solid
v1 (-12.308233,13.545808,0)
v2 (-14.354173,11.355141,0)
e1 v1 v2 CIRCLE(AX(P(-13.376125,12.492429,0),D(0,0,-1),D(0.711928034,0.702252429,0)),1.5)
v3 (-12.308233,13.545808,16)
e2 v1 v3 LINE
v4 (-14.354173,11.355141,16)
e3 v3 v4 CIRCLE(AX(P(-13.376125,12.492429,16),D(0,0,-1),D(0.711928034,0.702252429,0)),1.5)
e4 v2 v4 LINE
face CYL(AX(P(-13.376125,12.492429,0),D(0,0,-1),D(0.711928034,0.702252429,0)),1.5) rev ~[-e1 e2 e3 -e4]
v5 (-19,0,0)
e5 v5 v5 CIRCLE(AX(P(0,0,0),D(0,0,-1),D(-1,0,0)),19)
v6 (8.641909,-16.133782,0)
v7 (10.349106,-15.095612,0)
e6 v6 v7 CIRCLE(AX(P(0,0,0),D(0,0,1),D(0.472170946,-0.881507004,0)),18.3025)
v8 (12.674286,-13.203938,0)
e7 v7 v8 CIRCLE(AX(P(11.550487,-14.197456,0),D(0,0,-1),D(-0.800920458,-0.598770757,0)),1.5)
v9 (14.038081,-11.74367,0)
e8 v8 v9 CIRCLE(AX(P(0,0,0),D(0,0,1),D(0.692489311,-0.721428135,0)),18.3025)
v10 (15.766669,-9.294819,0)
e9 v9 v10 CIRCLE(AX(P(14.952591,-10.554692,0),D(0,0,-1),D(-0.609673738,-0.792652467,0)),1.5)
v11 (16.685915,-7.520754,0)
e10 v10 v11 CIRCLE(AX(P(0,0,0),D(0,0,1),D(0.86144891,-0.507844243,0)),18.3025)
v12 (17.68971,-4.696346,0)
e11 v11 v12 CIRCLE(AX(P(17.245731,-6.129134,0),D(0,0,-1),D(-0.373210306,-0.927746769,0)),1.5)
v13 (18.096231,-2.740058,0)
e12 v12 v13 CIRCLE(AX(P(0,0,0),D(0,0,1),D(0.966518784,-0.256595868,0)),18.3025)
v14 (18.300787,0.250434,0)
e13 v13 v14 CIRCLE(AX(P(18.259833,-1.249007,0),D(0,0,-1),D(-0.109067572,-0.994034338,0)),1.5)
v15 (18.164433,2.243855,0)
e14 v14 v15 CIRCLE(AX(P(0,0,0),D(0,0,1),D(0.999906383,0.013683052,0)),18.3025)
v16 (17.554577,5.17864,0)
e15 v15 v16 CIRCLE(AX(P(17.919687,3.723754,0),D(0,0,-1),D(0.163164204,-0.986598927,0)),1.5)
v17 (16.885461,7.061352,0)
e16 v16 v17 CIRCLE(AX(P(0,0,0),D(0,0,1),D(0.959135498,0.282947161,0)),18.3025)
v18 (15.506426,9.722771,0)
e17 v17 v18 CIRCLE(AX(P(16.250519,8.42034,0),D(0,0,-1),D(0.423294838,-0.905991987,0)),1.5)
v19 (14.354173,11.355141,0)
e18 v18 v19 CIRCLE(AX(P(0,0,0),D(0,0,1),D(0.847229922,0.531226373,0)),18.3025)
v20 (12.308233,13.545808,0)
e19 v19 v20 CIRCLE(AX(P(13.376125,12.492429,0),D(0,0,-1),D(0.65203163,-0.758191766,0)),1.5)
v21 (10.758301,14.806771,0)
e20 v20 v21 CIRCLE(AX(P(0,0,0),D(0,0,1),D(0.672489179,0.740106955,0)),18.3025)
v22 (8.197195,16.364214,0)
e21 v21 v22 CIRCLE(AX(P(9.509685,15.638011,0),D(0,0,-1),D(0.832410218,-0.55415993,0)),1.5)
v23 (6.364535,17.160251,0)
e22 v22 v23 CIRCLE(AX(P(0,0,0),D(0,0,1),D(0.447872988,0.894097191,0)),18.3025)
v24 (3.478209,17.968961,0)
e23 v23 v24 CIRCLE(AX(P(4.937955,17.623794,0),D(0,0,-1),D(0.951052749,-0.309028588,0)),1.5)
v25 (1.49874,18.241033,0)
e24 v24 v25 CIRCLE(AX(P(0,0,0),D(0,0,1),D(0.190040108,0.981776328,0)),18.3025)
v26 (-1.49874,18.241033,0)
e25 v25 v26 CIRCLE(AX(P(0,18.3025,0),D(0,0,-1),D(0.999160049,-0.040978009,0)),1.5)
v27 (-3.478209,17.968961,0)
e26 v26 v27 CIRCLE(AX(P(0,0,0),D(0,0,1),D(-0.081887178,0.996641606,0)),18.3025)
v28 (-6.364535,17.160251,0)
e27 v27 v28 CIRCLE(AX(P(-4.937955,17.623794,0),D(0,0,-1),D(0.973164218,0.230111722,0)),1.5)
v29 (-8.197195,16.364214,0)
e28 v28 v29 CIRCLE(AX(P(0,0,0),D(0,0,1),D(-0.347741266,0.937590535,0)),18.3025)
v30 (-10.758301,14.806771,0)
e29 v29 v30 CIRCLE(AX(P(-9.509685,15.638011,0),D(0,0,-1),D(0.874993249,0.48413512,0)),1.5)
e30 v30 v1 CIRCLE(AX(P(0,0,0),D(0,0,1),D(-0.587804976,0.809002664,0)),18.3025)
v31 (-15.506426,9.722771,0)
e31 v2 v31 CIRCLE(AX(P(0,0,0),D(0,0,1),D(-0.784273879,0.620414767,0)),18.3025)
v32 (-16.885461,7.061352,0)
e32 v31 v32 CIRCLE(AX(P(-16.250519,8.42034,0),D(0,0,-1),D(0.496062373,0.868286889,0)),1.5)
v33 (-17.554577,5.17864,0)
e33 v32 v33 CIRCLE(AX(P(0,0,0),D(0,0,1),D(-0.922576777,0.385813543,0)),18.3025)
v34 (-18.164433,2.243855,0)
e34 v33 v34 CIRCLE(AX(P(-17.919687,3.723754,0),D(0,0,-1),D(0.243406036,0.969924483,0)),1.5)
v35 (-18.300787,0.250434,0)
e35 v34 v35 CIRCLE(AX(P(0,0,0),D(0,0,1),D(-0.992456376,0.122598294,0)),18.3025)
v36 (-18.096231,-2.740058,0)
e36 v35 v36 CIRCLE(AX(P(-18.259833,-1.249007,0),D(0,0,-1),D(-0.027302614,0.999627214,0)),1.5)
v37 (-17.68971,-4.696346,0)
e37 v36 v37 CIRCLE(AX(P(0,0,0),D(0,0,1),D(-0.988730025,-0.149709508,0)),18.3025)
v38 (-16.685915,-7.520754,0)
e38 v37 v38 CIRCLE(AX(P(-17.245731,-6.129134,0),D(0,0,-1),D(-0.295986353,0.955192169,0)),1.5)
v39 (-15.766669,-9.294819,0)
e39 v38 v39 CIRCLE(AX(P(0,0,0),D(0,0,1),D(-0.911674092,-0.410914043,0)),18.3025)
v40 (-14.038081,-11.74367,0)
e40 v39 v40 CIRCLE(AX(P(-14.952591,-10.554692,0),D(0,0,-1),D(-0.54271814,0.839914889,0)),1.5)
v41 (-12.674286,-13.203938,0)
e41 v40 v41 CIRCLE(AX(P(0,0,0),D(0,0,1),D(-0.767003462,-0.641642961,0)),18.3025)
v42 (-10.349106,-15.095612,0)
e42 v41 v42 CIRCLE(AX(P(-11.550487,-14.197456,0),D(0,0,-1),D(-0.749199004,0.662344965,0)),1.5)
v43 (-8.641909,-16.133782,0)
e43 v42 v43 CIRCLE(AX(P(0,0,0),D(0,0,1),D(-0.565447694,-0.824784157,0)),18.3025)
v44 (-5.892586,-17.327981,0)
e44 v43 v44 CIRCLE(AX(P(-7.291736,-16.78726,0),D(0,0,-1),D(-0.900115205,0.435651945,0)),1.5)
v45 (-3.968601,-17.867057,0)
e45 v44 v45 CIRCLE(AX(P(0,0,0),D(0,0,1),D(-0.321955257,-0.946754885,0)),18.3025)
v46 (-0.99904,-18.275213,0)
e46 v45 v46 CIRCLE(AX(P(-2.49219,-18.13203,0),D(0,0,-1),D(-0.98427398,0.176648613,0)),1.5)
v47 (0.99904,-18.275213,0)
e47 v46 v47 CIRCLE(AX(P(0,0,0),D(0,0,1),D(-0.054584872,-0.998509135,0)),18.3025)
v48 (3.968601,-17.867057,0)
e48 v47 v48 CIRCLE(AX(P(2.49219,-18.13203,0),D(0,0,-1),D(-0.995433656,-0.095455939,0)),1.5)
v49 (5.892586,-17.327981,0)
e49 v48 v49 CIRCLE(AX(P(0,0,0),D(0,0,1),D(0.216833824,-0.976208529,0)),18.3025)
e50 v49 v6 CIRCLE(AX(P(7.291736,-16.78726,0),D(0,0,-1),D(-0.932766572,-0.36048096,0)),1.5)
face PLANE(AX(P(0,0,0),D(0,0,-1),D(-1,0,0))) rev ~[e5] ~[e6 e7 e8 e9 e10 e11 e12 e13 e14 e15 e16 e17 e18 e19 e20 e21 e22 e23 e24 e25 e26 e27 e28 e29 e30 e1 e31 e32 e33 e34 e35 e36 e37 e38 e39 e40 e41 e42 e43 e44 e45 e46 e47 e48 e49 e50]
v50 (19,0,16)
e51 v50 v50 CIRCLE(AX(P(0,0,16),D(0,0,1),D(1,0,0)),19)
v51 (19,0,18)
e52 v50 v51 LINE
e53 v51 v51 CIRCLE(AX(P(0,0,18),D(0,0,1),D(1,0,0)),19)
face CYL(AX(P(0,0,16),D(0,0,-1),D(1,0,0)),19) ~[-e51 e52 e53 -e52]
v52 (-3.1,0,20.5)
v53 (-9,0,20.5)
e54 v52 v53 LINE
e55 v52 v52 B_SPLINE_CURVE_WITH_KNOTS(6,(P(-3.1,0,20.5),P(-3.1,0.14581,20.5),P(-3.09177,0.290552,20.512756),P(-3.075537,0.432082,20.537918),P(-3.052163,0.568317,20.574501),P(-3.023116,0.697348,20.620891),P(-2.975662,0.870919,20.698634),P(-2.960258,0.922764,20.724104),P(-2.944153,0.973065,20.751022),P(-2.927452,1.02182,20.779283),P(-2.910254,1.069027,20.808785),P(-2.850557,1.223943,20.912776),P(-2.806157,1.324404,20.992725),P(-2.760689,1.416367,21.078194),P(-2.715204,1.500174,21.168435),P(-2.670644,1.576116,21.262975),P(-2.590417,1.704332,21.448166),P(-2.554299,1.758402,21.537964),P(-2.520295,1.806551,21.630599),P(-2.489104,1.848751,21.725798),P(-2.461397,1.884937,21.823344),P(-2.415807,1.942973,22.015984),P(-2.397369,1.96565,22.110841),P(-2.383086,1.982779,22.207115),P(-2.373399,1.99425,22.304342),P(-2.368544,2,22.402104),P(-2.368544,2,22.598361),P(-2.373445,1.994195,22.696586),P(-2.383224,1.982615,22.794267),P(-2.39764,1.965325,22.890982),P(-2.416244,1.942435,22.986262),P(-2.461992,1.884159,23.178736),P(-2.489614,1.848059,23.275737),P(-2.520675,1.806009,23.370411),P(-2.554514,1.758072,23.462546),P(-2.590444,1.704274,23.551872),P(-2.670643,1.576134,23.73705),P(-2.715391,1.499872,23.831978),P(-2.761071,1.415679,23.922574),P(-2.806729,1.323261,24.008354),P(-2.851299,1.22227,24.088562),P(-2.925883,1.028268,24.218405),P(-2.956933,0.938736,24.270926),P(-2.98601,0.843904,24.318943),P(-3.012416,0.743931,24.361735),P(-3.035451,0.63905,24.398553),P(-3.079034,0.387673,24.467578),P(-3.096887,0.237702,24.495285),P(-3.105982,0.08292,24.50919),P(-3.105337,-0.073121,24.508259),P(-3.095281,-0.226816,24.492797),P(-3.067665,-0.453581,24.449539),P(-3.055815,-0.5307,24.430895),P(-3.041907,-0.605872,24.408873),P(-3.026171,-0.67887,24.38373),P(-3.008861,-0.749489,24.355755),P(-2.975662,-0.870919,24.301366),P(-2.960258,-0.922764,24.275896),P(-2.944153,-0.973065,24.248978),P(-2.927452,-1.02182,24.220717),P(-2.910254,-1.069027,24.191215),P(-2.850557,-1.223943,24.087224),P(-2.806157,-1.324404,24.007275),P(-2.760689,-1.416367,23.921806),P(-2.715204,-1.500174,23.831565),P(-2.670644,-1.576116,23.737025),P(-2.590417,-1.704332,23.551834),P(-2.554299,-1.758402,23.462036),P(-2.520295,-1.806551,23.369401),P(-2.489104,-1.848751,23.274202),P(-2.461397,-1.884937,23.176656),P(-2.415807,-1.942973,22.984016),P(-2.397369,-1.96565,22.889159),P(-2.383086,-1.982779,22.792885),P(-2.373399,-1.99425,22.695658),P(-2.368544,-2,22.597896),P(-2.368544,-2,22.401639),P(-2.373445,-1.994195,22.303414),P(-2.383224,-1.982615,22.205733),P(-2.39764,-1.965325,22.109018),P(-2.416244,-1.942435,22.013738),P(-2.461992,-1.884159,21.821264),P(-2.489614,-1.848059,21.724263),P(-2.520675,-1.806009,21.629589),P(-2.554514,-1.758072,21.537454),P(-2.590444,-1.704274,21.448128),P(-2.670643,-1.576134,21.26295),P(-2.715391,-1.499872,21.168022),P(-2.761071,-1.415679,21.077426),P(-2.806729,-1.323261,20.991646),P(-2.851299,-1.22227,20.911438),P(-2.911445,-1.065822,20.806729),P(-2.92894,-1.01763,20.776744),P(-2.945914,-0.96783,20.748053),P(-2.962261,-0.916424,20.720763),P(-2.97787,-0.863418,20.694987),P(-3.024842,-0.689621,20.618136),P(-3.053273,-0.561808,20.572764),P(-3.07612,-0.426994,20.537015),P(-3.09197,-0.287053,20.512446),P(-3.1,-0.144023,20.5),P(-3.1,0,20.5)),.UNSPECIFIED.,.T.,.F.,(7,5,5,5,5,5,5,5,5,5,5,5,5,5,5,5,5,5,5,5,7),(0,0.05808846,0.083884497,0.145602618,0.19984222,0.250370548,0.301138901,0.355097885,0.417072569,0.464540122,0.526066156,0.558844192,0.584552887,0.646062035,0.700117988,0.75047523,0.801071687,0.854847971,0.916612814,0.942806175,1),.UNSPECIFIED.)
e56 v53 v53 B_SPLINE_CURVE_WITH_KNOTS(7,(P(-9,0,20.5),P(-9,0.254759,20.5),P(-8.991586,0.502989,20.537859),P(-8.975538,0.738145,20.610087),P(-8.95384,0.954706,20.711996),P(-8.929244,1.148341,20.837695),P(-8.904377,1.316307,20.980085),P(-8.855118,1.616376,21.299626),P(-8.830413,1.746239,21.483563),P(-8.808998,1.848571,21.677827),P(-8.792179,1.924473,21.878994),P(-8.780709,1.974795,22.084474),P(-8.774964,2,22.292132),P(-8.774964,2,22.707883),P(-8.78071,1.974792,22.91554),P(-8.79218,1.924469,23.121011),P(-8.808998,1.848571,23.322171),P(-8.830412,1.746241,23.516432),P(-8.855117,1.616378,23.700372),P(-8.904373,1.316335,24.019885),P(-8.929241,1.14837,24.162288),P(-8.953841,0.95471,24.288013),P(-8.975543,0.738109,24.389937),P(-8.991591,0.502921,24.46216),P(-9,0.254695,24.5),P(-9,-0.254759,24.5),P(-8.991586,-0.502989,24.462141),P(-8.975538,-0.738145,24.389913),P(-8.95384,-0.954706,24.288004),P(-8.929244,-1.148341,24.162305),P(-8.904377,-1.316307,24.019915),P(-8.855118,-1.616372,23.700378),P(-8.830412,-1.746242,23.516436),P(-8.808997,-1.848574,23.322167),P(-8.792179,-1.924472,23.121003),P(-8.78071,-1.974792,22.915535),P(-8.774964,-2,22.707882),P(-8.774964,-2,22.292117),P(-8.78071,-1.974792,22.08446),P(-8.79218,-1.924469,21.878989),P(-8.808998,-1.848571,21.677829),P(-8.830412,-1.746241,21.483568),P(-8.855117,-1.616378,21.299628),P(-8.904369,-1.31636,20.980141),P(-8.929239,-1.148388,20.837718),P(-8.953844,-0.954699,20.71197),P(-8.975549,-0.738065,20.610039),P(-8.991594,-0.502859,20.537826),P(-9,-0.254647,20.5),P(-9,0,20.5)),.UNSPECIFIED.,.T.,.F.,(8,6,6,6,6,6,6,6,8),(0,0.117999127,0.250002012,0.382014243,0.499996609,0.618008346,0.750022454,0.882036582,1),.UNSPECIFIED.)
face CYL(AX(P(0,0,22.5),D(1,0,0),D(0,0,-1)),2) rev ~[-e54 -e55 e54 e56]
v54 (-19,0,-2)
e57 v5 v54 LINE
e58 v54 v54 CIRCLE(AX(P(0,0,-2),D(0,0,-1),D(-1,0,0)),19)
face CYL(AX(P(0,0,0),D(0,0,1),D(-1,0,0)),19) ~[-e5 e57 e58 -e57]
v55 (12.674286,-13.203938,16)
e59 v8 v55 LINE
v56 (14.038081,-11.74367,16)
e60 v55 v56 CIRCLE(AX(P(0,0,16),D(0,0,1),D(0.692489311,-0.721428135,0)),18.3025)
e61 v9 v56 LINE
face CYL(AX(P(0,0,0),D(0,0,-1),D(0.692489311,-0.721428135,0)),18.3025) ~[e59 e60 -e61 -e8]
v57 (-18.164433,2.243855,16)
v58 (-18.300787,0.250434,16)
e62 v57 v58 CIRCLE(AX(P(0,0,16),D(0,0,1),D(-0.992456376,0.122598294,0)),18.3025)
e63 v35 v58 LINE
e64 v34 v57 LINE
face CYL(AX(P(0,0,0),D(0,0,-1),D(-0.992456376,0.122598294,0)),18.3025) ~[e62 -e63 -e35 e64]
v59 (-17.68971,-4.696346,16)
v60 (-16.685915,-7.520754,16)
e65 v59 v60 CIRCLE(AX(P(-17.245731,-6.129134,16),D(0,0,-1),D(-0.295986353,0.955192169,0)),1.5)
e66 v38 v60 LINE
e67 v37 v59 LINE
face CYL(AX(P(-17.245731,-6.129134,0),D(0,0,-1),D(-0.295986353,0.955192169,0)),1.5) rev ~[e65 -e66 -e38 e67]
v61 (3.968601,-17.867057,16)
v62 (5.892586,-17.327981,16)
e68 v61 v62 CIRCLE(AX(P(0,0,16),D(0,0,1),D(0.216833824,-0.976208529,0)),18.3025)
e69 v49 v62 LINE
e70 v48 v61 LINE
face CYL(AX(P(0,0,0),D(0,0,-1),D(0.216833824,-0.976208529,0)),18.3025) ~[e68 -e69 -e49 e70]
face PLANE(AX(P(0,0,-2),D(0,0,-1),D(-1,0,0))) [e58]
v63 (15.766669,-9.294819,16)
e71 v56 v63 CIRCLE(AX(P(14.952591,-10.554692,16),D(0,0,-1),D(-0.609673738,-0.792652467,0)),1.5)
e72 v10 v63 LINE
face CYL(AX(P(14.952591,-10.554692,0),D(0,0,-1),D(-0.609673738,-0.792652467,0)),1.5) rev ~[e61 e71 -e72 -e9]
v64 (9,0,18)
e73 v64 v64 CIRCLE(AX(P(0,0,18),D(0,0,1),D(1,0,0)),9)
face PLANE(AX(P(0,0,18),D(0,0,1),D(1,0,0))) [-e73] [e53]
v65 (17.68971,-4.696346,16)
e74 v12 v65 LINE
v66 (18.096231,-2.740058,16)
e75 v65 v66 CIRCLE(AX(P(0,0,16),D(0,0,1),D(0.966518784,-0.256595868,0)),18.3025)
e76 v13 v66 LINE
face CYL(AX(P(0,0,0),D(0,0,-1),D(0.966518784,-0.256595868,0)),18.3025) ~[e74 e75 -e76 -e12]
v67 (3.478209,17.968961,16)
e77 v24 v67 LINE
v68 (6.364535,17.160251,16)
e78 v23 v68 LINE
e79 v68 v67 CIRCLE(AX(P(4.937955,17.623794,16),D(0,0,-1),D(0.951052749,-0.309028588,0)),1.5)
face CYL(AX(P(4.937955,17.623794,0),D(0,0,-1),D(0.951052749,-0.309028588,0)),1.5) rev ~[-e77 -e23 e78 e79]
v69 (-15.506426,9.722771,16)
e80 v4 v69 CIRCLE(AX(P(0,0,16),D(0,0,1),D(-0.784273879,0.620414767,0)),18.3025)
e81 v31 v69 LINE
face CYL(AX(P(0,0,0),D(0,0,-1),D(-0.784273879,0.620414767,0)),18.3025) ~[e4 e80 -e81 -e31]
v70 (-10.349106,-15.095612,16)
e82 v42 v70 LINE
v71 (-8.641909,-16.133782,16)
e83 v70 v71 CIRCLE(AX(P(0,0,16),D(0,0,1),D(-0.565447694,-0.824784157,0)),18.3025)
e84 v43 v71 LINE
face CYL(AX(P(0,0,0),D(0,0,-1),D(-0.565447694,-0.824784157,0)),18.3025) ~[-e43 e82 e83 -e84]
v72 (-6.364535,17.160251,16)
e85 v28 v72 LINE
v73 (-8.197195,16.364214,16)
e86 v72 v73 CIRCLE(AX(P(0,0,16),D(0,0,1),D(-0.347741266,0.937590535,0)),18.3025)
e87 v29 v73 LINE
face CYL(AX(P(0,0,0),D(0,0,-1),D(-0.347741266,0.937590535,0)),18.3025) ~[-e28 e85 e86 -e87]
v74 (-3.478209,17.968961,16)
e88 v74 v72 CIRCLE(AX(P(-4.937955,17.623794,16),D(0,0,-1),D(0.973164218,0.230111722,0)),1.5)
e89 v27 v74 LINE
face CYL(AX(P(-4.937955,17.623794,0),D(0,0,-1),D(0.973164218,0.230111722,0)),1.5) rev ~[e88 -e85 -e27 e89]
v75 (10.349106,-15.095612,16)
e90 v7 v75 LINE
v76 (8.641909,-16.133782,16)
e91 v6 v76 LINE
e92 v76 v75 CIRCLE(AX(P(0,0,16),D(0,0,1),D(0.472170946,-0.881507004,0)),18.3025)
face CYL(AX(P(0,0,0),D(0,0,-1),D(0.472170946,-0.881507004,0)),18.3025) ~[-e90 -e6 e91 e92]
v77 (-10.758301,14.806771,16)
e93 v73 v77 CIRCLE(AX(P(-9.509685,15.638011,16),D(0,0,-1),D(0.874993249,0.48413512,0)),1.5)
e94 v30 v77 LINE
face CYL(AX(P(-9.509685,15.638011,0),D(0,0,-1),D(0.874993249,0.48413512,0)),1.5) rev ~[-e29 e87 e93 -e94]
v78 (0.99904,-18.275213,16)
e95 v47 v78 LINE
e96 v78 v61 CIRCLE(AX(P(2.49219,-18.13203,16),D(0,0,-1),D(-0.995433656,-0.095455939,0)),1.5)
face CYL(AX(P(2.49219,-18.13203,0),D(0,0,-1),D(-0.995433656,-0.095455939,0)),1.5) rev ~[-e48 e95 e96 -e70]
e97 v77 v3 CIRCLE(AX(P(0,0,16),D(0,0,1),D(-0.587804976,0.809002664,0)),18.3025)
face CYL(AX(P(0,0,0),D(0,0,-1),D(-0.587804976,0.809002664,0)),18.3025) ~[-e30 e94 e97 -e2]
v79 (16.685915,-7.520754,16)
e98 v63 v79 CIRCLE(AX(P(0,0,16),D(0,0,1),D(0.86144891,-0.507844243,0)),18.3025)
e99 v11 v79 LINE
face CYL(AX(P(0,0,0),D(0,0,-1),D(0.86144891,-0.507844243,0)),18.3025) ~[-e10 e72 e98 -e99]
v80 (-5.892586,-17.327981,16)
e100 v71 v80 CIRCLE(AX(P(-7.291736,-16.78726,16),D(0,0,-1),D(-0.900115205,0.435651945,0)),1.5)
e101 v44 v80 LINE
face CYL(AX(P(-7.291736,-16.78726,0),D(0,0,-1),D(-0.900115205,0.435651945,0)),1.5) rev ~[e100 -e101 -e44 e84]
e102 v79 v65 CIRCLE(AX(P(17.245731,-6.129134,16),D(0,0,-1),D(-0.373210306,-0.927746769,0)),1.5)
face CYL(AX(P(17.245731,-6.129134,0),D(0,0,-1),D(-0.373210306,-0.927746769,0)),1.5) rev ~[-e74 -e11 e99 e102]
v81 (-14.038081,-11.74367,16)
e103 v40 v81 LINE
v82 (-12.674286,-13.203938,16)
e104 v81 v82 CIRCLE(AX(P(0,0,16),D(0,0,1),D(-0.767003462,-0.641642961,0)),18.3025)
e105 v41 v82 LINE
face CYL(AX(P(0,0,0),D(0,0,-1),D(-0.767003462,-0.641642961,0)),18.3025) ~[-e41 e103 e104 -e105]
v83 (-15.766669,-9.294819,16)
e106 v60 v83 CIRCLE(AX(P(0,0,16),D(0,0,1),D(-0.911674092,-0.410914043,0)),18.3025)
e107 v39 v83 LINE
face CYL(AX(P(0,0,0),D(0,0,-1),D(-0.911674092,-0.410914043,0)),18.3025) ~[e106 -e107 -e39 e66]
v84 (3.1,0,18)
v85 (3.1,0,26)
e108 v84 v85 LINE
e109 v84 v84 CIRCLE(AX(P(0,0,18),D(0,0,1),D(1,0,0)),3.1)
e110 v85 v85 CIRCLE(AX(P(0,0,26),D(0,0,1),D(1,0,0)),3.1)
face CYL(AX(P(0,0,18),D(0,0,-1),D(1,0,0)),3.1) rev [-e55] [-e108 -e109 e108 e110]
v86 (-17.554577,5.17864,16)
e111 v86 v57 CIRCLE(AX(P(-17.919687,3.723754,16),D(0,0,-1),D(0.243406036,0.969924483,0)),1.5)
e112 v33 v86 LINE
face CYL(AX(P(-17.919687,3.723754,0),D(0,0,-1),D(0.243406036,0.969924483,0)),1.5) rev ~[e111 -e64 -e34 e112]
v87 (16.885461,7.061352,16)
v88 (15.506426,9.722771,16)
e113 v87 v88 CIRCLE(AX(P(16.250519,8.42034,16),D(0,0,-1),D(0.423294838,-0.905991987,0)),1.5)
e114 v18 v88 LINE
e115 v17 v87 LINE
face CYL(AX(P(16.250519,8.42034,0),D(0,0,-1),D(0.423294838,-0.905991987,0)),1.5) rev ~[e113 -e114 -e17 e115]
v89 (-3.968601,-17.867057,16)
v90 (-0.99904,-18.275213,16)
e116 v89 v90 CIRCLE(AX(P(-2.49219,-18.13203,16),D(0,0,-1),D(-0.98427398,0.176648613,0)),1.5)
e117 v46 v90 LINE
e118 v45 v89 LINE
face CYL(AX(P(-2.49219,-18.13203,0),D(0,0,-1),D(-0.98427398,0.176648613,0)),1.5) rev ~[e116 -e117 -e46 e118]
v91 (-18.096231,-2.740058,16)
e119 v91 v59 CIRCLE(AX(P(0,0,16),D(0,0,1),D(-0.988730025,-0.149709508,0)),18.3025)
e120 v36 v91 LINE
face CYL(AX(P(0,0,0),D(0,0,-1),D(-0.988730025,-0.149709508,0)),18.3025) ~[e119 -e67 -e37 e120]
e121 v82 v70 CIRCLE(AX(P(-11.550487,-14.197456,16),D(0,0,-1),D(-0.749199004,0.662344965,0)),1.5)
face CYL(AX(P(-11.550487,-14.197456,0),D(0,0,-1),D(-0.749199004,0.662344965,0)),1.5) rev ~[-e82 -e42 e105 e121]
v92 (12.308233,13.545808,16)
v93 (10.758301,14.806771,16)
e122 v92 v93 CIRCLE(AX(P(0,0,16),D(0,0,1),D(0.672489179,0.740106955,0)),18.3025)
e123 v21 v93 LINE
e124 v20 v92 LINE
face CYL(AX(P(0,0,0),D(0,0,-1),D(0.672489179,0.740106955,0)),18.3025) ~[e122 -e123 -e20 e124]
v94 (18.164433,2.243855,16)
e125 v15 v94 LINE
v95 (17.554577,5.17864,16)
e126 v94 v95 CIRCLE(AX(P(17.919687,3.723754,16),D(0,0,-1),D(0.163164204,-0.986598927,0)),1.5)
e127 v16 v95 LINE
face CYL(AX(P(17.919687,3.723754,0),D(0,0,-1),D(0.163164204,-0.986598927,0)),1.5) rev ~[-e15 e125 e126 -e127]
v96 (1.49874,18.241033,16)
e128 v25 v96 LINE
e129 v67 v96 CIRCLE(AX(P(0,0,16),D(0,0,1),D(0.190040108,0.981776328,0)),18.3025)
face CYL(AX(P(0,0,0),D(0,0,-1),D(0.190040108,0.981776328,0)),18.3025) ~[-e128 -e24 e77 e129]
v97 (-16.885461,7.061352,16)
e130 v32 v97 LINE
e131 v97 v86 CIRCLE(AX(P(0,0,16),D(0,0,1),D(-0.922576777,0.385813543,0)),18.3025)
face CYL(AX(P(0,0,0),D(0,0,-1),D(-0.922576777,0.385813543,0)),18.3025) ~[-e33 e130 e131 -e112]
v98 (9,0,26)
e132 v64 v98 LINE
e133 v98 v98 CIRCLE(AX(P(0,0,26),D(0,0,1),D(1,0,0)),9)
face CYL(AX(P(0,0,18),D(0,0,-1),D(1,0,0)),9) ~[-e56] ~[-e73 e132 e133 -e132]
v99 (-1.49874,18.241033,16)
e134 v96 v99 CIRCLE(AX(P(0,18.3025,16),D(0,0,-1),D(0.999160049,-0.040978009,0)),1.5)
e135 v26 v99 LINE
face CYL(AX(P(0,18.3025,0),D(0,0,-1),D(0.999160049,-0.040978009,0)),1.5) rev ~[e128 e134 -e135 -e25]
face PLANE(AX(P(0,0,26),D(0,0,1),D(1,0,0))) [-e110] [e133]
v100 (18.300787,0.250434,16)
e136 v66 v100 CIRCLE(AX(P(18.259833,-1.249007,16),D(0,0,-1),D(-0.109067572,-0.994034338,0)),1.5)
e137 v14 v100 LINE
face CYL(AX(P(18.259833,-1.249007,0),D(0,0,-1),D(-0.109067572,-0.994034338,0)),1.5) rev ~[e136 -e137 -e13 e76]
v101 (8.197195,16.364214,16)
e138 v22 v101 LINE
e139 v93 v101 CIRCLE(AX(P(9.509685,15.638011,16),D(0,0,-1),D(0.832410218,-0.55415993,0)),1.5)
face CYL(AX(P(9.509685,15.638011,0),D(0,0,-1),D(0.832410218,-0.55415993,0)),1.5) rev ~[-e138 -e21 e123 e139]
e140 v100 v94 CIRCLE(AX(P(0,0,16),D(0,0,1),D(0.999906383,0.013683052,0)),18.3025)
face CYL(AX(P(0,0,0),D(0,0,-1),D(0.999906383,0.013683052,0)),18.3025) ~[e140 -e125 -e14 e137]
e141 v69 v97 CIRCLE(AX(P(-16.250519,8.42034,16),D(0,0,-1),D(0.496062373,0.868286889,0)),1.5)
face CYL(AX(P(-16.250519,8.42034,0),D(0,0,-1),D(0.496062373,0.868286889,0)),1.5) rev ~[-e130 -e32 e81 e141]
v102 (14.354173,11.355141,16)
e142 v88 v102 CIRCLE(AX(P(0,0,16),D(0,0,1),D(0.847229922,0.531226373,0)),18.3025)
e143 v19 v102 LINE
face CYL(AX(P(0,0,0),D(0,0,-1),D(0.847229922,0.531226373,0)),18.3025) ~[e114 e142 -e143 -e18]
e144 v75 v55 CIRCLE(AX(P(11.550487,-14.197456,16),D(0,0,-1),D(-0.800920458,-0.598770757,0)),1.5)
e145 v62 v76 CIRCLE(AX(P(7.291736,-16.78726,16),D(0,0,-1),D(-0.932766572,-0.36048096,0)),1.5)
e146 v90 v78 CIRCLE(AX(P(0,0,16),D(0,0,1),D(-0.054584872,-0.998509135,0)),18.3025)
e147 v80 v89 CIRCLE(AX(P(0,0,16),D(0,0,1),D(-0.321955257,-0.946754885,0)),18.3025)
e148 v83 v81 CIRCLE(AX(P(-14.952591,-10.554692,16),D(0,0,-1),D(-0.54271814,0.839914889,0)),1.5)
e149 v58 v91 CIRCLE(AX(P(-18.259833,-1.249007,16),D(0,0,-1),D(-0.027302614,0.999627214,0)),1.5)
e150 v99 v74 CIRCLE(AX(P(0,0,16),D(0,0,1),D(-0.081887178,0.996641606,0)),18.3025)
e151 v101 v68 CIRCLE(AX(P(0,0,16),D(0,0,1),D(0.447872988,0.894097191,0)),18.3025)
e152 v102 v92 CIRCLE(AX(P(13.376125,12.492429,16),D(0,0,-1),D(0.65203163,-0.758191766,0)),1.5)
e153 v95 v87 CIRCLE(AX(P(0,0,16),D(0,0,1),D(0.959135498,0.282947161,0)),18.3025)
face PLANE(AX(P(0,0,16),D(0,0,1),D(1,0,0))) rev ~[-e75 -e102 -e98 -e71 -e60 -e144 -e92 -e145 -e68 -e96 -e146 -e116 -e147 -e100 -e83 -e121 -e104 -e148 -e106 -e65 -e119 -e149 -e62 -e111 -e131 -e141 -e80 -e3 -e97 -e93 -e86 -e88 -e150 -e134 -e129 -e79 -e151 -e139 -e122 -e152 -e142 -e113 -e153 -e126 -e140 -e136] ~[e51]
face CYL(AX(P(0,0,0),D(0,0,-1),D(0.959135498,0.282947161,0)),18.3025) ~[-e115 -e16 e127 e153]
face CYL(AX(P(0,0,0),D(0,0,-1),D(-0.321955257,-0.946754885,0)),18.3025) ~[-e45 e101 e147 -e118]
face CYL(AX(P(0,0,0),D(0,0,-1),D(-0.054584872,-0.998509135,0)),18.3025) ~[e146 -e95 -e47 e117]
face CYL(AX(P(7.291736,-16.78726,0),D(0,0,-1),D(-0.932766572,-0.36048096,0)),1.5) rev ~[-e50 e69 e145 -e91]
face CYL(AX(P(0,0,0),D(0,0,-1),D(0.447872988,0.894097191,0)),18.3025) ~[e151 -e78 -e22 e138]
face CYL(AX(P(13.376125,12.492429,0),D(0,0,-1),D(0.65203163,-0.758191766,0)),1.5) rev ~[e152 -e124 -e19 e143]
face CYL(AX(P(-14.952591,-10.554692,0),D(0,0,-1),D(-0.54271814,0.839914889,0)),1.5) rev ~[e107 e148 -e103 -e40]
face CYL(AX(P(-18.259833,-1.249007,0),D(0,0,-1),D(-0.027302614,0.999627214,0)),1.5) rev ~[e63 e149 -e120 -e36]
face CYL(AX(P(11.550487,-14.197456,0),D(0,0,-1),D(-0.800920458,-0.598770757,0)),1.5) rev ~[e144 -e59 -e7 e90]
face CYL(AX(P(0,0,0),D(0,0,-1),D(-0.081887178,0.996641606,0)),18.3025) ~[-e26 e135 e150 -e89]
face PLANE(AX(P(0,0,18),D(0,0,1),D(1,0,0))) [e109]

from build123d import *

# Parameters (mm, degrees)
EXTRUDE_1_DEPTH     = 16
SKETCH_2_R          = 19
EXTRUDE_2_DEPTH     = 2
SKETCH_3_R          = 19
EXTRUDE_3_DEPTH     = 2
SKETCH_4_R          = 9
SKETCH_4_R_2        = 3.1
EXTRUDE_4_DEPTH     = 8
SKETCH_5_R          = 2
CUT_EXTRUDE_1_DEPTH = 20


with BuildPart() as part:
    # Эскиз1 → Бобышка-Вытянуть1 (new body)
    with BuildSketch(Plane.XY):
        with BuildLine():
            ThreePointArc((-1.498740073, 18.241032987), (-2.492190095, 18.132029527), (-3.478209077, 17.968961235))
            ThreePointArc((-3.478209077, 17.968961235), (-4.533260247, 16.179417721), (-6.364534528, 17.16025077))
            ThreePointArc((-6.364534528, 17.16025077), (-7.291735947, 16.787259846), (-8.197195372, 16.364213831))
            ThreePointArc((-8.197195372, 16.364213831), (-8.73030932, 14.356382045), (-10.758300573, 14.806771256))
            ThreePointArc((-10.758300573, 14.806771256), (-11.550487101, 14.197455898), (-12.308233185, 13.545807547))
            ThreePointArc((-12.308233185, 13.545807547), (-12.27987129, 11.468599189), (-14.35417268, 11.355141255))
            ThreePointArc((-14.35417268, 11.355141255), (-14.952591467, 10.554691596), (-15.50642565, 9.722770687))
            ThreePointArc((-15.50642565, 9.722770687), (-14.918691382, 7.730242796), (-16.885461466, 7.061352373))
            ThreePointArc((-16.885461466, 7.061352373), (-17.245730527, 6.129134102), (-17.554577461, 5.178640403))
            ThreePointArc((-17.554577461, 5.178640403), (-16.451060383, 3.418569659), (-18.164432821, 2.243855289))
            ThreePointArc((-18.164432821, 2.243855289), (-18.259832648, 1.249006771), (-18.300786569, 0.250434051))
            ThreePointArc((-18.300786569, 0.250434051), (-16.763329494, -1.146643151), (-18.09623129, -2.740058277))
            ThreePointArc((-18.09623129, -2.740058277), (-17.919686515, -3.723753679), (-17.689710057, -4.696345849))
            ThreePointArc((-17.689710057, -4.696345849), (-15.832339144, -5.626814684), (-16.685915069, -7.520754256))
            ThreePointArc((-16.685915069, -7.520754256), (-16.25051921, -8.420340353), (-15.766668676, -9.294819262))
            ThreePointArc((-15.766668676, -9.294819262), (-13.727136627, -9.689671112), (-14.03808086, -11.743670296))
            ThreePointArc((-14.03808086, -11.743670296), (-13.376125236, -12.492428904), (-12.674285607, -13.203938451))
            ThreePointArc((-12.674285607, -13.203938451), (-10.603855185, -13.033888962), (-10.349106414, -15.095612034))
            ThreePointArc((-10.349106414, -15.095612034), (-9.509685246, -15.638011152), (-8.641908755, -16.133781929))
            ThreePointArc((-8.641908755, -16.133781929), (-6.694134312, -15.411442894), (-5.892586089, -17.327981286))
            ThreePointArc((-5.892586089, -17.327981286), (-4.937955404, -17.623793652), (-3.968601065, -17.867056608))
            ThreePointArc((-3.968601065, -17.867056608), (-2.287940121, -16.646000608), (-0.999039611, -18.275213435))
            ThreePointArc((-0.999039611, -18.275213435), (0, -18.3025), (0.999039611, -18.275213435))
            ThreePointArc((0.999039611, -18.275213435), (2.287940121, -16.646000608), (3.968601065, -17.867056608))
            ThreePointArc((3.968601065, -17.867056608), (4.937955404, -17.623793652), (5.892586089, -17.327981286))
            ThreePointArc((5.892586089, -17.327981286), (6.694134312, -15.411442894), (8.641908755, -16.133781929))
            ThreePointArc((8.641908755, -16.133781929), (9.509685246, -15.638011152), (10.349106414, -15.095612034))
            ThreePointArc((10.349106414, -15.095612034), (10.603855185, -13.033888962), (12.674285607, -13.203938451))
            ThreePointArc((12.674285607, -13.203938451), (13.376125236, -12.492428904), (14.03808086, -11.743670296))
            ThreePointArc((14.03808086, -11.743670296), (13.727136627, -9.689671112), (15.766668676, -9.294819262))
            ThreePointArc((15.766668676, -9.294819262), (16.25051921, -8.420340353), (16.685915069, -7.520754256))
            ThreePointArc((16.685915069, -7.520754256), (15.832339144, -5.626814684), (17.689710057, -4.696345849))
            ThreePointArc((17.689710057, -4.696345849), (17.919686515, -3.723753679), (18.09623129, -2.740058277))
            ThreePointArc((18.09623129, -2.740058277), (16.763329494, -1.146643151), (18.300786569, 0.250434051))
            ThreePointArc((18.300786569, 0.250434051), (18.259832648, 1.249006771), (18.164432821, 2.243855289))
            ThreePointArc((18.164432821, 2.243855289), (16.451060383, 3.418569659), (17.554577461, 5.178640403))
            ThreePointArc((17.554577461, 5.178640403), (17.245730527, 6.129134102), (16.885461466, 7.061352373))
            ThreePointArc((16.885461466, 7.061352373), (14.918691382, 7.730242796), (15.50642565, 9.722770687))
            ThreePointArc((15.50642565, 9.722770687), (14.952591467, 10.554691596), (14.35417268, 11.355141255))
            ThreePointArc((14.35417268, 11.355141255), (12.27987129, 11.468599189), (12.308233185, 13.545807547))
            ThreePointArc((12.308233185, 13.545807547), (11.550487101, 14.197455898), (10.758300573, 14.806771256))
            ThreePointArc((10.758300573, 14.806771256), (8.73030932, 14.356382045), (8.197195372, 16.364213831))
            ThreePointArc((8.197195372, 16.364213831), (7.291735947, 16.787259846), (6.364534528, 17.16025077))
            ThreePointArc((6.364534528, 17.16025077), (4.533260247, 16.179417721), (3.478209077, 17.968961235))
            ThreePointArc((3.478209077, 17.968961235), (2.492190095, 18.132029527), (1.498740073, 18.241032987))
            ThreePointArc((1.498740073, 18.241032987), (0, 16.8025), (-1.498740073, 18.241032987))
        make_face()
    extrude(amount=EXTRUDE_1_DEPTH)

    # Эскиз2 → Бобышка-Вытянуть2 (add)
    with BuildSketch(Plane(origin=(0, 0, 0), x_dir=(-1, 0, 0), z_dir=(0, 0, -1))):
        Circle(SKETCH_2_R)
    extrude(amount=EXTRUDE_2_DEPTH)

    # Эскиз3 → Бобышка-Вытянуть3 (add)
    with BuildSketch(Plane.XY.offset(16)):
        Circle(SKETCH_3_R)
    extrude(amount=EXTRUDE_3_DEPTH)

    # Эскиз4 → Бобышка-Вытянуть4 (add)
    with BuildSketch(Plane.XY.offset(18)):
        Circle(SKETCH_4_R)
        Circle(SKETCH_4_R_2, mode=Mode.SUBTRACT)
    extrude(amount=EXTRUDE_4_DEPTH)

    # Эскиз5 → Вырез-Вытянуть1 (cut, through all)
    with BuildSketch(Plane(origin=(0, 0, 0), x_dir=(0, 0, -1), z_dir=(1, 0, 0))):
        with Locations((-22.5, 0)):
            Circle(SKETCH_5_R)
    extrude(amount=-CUT_EXTRUDE_1_DEPTH, mode=Mode.SUBTRACT)


solid = part.part
